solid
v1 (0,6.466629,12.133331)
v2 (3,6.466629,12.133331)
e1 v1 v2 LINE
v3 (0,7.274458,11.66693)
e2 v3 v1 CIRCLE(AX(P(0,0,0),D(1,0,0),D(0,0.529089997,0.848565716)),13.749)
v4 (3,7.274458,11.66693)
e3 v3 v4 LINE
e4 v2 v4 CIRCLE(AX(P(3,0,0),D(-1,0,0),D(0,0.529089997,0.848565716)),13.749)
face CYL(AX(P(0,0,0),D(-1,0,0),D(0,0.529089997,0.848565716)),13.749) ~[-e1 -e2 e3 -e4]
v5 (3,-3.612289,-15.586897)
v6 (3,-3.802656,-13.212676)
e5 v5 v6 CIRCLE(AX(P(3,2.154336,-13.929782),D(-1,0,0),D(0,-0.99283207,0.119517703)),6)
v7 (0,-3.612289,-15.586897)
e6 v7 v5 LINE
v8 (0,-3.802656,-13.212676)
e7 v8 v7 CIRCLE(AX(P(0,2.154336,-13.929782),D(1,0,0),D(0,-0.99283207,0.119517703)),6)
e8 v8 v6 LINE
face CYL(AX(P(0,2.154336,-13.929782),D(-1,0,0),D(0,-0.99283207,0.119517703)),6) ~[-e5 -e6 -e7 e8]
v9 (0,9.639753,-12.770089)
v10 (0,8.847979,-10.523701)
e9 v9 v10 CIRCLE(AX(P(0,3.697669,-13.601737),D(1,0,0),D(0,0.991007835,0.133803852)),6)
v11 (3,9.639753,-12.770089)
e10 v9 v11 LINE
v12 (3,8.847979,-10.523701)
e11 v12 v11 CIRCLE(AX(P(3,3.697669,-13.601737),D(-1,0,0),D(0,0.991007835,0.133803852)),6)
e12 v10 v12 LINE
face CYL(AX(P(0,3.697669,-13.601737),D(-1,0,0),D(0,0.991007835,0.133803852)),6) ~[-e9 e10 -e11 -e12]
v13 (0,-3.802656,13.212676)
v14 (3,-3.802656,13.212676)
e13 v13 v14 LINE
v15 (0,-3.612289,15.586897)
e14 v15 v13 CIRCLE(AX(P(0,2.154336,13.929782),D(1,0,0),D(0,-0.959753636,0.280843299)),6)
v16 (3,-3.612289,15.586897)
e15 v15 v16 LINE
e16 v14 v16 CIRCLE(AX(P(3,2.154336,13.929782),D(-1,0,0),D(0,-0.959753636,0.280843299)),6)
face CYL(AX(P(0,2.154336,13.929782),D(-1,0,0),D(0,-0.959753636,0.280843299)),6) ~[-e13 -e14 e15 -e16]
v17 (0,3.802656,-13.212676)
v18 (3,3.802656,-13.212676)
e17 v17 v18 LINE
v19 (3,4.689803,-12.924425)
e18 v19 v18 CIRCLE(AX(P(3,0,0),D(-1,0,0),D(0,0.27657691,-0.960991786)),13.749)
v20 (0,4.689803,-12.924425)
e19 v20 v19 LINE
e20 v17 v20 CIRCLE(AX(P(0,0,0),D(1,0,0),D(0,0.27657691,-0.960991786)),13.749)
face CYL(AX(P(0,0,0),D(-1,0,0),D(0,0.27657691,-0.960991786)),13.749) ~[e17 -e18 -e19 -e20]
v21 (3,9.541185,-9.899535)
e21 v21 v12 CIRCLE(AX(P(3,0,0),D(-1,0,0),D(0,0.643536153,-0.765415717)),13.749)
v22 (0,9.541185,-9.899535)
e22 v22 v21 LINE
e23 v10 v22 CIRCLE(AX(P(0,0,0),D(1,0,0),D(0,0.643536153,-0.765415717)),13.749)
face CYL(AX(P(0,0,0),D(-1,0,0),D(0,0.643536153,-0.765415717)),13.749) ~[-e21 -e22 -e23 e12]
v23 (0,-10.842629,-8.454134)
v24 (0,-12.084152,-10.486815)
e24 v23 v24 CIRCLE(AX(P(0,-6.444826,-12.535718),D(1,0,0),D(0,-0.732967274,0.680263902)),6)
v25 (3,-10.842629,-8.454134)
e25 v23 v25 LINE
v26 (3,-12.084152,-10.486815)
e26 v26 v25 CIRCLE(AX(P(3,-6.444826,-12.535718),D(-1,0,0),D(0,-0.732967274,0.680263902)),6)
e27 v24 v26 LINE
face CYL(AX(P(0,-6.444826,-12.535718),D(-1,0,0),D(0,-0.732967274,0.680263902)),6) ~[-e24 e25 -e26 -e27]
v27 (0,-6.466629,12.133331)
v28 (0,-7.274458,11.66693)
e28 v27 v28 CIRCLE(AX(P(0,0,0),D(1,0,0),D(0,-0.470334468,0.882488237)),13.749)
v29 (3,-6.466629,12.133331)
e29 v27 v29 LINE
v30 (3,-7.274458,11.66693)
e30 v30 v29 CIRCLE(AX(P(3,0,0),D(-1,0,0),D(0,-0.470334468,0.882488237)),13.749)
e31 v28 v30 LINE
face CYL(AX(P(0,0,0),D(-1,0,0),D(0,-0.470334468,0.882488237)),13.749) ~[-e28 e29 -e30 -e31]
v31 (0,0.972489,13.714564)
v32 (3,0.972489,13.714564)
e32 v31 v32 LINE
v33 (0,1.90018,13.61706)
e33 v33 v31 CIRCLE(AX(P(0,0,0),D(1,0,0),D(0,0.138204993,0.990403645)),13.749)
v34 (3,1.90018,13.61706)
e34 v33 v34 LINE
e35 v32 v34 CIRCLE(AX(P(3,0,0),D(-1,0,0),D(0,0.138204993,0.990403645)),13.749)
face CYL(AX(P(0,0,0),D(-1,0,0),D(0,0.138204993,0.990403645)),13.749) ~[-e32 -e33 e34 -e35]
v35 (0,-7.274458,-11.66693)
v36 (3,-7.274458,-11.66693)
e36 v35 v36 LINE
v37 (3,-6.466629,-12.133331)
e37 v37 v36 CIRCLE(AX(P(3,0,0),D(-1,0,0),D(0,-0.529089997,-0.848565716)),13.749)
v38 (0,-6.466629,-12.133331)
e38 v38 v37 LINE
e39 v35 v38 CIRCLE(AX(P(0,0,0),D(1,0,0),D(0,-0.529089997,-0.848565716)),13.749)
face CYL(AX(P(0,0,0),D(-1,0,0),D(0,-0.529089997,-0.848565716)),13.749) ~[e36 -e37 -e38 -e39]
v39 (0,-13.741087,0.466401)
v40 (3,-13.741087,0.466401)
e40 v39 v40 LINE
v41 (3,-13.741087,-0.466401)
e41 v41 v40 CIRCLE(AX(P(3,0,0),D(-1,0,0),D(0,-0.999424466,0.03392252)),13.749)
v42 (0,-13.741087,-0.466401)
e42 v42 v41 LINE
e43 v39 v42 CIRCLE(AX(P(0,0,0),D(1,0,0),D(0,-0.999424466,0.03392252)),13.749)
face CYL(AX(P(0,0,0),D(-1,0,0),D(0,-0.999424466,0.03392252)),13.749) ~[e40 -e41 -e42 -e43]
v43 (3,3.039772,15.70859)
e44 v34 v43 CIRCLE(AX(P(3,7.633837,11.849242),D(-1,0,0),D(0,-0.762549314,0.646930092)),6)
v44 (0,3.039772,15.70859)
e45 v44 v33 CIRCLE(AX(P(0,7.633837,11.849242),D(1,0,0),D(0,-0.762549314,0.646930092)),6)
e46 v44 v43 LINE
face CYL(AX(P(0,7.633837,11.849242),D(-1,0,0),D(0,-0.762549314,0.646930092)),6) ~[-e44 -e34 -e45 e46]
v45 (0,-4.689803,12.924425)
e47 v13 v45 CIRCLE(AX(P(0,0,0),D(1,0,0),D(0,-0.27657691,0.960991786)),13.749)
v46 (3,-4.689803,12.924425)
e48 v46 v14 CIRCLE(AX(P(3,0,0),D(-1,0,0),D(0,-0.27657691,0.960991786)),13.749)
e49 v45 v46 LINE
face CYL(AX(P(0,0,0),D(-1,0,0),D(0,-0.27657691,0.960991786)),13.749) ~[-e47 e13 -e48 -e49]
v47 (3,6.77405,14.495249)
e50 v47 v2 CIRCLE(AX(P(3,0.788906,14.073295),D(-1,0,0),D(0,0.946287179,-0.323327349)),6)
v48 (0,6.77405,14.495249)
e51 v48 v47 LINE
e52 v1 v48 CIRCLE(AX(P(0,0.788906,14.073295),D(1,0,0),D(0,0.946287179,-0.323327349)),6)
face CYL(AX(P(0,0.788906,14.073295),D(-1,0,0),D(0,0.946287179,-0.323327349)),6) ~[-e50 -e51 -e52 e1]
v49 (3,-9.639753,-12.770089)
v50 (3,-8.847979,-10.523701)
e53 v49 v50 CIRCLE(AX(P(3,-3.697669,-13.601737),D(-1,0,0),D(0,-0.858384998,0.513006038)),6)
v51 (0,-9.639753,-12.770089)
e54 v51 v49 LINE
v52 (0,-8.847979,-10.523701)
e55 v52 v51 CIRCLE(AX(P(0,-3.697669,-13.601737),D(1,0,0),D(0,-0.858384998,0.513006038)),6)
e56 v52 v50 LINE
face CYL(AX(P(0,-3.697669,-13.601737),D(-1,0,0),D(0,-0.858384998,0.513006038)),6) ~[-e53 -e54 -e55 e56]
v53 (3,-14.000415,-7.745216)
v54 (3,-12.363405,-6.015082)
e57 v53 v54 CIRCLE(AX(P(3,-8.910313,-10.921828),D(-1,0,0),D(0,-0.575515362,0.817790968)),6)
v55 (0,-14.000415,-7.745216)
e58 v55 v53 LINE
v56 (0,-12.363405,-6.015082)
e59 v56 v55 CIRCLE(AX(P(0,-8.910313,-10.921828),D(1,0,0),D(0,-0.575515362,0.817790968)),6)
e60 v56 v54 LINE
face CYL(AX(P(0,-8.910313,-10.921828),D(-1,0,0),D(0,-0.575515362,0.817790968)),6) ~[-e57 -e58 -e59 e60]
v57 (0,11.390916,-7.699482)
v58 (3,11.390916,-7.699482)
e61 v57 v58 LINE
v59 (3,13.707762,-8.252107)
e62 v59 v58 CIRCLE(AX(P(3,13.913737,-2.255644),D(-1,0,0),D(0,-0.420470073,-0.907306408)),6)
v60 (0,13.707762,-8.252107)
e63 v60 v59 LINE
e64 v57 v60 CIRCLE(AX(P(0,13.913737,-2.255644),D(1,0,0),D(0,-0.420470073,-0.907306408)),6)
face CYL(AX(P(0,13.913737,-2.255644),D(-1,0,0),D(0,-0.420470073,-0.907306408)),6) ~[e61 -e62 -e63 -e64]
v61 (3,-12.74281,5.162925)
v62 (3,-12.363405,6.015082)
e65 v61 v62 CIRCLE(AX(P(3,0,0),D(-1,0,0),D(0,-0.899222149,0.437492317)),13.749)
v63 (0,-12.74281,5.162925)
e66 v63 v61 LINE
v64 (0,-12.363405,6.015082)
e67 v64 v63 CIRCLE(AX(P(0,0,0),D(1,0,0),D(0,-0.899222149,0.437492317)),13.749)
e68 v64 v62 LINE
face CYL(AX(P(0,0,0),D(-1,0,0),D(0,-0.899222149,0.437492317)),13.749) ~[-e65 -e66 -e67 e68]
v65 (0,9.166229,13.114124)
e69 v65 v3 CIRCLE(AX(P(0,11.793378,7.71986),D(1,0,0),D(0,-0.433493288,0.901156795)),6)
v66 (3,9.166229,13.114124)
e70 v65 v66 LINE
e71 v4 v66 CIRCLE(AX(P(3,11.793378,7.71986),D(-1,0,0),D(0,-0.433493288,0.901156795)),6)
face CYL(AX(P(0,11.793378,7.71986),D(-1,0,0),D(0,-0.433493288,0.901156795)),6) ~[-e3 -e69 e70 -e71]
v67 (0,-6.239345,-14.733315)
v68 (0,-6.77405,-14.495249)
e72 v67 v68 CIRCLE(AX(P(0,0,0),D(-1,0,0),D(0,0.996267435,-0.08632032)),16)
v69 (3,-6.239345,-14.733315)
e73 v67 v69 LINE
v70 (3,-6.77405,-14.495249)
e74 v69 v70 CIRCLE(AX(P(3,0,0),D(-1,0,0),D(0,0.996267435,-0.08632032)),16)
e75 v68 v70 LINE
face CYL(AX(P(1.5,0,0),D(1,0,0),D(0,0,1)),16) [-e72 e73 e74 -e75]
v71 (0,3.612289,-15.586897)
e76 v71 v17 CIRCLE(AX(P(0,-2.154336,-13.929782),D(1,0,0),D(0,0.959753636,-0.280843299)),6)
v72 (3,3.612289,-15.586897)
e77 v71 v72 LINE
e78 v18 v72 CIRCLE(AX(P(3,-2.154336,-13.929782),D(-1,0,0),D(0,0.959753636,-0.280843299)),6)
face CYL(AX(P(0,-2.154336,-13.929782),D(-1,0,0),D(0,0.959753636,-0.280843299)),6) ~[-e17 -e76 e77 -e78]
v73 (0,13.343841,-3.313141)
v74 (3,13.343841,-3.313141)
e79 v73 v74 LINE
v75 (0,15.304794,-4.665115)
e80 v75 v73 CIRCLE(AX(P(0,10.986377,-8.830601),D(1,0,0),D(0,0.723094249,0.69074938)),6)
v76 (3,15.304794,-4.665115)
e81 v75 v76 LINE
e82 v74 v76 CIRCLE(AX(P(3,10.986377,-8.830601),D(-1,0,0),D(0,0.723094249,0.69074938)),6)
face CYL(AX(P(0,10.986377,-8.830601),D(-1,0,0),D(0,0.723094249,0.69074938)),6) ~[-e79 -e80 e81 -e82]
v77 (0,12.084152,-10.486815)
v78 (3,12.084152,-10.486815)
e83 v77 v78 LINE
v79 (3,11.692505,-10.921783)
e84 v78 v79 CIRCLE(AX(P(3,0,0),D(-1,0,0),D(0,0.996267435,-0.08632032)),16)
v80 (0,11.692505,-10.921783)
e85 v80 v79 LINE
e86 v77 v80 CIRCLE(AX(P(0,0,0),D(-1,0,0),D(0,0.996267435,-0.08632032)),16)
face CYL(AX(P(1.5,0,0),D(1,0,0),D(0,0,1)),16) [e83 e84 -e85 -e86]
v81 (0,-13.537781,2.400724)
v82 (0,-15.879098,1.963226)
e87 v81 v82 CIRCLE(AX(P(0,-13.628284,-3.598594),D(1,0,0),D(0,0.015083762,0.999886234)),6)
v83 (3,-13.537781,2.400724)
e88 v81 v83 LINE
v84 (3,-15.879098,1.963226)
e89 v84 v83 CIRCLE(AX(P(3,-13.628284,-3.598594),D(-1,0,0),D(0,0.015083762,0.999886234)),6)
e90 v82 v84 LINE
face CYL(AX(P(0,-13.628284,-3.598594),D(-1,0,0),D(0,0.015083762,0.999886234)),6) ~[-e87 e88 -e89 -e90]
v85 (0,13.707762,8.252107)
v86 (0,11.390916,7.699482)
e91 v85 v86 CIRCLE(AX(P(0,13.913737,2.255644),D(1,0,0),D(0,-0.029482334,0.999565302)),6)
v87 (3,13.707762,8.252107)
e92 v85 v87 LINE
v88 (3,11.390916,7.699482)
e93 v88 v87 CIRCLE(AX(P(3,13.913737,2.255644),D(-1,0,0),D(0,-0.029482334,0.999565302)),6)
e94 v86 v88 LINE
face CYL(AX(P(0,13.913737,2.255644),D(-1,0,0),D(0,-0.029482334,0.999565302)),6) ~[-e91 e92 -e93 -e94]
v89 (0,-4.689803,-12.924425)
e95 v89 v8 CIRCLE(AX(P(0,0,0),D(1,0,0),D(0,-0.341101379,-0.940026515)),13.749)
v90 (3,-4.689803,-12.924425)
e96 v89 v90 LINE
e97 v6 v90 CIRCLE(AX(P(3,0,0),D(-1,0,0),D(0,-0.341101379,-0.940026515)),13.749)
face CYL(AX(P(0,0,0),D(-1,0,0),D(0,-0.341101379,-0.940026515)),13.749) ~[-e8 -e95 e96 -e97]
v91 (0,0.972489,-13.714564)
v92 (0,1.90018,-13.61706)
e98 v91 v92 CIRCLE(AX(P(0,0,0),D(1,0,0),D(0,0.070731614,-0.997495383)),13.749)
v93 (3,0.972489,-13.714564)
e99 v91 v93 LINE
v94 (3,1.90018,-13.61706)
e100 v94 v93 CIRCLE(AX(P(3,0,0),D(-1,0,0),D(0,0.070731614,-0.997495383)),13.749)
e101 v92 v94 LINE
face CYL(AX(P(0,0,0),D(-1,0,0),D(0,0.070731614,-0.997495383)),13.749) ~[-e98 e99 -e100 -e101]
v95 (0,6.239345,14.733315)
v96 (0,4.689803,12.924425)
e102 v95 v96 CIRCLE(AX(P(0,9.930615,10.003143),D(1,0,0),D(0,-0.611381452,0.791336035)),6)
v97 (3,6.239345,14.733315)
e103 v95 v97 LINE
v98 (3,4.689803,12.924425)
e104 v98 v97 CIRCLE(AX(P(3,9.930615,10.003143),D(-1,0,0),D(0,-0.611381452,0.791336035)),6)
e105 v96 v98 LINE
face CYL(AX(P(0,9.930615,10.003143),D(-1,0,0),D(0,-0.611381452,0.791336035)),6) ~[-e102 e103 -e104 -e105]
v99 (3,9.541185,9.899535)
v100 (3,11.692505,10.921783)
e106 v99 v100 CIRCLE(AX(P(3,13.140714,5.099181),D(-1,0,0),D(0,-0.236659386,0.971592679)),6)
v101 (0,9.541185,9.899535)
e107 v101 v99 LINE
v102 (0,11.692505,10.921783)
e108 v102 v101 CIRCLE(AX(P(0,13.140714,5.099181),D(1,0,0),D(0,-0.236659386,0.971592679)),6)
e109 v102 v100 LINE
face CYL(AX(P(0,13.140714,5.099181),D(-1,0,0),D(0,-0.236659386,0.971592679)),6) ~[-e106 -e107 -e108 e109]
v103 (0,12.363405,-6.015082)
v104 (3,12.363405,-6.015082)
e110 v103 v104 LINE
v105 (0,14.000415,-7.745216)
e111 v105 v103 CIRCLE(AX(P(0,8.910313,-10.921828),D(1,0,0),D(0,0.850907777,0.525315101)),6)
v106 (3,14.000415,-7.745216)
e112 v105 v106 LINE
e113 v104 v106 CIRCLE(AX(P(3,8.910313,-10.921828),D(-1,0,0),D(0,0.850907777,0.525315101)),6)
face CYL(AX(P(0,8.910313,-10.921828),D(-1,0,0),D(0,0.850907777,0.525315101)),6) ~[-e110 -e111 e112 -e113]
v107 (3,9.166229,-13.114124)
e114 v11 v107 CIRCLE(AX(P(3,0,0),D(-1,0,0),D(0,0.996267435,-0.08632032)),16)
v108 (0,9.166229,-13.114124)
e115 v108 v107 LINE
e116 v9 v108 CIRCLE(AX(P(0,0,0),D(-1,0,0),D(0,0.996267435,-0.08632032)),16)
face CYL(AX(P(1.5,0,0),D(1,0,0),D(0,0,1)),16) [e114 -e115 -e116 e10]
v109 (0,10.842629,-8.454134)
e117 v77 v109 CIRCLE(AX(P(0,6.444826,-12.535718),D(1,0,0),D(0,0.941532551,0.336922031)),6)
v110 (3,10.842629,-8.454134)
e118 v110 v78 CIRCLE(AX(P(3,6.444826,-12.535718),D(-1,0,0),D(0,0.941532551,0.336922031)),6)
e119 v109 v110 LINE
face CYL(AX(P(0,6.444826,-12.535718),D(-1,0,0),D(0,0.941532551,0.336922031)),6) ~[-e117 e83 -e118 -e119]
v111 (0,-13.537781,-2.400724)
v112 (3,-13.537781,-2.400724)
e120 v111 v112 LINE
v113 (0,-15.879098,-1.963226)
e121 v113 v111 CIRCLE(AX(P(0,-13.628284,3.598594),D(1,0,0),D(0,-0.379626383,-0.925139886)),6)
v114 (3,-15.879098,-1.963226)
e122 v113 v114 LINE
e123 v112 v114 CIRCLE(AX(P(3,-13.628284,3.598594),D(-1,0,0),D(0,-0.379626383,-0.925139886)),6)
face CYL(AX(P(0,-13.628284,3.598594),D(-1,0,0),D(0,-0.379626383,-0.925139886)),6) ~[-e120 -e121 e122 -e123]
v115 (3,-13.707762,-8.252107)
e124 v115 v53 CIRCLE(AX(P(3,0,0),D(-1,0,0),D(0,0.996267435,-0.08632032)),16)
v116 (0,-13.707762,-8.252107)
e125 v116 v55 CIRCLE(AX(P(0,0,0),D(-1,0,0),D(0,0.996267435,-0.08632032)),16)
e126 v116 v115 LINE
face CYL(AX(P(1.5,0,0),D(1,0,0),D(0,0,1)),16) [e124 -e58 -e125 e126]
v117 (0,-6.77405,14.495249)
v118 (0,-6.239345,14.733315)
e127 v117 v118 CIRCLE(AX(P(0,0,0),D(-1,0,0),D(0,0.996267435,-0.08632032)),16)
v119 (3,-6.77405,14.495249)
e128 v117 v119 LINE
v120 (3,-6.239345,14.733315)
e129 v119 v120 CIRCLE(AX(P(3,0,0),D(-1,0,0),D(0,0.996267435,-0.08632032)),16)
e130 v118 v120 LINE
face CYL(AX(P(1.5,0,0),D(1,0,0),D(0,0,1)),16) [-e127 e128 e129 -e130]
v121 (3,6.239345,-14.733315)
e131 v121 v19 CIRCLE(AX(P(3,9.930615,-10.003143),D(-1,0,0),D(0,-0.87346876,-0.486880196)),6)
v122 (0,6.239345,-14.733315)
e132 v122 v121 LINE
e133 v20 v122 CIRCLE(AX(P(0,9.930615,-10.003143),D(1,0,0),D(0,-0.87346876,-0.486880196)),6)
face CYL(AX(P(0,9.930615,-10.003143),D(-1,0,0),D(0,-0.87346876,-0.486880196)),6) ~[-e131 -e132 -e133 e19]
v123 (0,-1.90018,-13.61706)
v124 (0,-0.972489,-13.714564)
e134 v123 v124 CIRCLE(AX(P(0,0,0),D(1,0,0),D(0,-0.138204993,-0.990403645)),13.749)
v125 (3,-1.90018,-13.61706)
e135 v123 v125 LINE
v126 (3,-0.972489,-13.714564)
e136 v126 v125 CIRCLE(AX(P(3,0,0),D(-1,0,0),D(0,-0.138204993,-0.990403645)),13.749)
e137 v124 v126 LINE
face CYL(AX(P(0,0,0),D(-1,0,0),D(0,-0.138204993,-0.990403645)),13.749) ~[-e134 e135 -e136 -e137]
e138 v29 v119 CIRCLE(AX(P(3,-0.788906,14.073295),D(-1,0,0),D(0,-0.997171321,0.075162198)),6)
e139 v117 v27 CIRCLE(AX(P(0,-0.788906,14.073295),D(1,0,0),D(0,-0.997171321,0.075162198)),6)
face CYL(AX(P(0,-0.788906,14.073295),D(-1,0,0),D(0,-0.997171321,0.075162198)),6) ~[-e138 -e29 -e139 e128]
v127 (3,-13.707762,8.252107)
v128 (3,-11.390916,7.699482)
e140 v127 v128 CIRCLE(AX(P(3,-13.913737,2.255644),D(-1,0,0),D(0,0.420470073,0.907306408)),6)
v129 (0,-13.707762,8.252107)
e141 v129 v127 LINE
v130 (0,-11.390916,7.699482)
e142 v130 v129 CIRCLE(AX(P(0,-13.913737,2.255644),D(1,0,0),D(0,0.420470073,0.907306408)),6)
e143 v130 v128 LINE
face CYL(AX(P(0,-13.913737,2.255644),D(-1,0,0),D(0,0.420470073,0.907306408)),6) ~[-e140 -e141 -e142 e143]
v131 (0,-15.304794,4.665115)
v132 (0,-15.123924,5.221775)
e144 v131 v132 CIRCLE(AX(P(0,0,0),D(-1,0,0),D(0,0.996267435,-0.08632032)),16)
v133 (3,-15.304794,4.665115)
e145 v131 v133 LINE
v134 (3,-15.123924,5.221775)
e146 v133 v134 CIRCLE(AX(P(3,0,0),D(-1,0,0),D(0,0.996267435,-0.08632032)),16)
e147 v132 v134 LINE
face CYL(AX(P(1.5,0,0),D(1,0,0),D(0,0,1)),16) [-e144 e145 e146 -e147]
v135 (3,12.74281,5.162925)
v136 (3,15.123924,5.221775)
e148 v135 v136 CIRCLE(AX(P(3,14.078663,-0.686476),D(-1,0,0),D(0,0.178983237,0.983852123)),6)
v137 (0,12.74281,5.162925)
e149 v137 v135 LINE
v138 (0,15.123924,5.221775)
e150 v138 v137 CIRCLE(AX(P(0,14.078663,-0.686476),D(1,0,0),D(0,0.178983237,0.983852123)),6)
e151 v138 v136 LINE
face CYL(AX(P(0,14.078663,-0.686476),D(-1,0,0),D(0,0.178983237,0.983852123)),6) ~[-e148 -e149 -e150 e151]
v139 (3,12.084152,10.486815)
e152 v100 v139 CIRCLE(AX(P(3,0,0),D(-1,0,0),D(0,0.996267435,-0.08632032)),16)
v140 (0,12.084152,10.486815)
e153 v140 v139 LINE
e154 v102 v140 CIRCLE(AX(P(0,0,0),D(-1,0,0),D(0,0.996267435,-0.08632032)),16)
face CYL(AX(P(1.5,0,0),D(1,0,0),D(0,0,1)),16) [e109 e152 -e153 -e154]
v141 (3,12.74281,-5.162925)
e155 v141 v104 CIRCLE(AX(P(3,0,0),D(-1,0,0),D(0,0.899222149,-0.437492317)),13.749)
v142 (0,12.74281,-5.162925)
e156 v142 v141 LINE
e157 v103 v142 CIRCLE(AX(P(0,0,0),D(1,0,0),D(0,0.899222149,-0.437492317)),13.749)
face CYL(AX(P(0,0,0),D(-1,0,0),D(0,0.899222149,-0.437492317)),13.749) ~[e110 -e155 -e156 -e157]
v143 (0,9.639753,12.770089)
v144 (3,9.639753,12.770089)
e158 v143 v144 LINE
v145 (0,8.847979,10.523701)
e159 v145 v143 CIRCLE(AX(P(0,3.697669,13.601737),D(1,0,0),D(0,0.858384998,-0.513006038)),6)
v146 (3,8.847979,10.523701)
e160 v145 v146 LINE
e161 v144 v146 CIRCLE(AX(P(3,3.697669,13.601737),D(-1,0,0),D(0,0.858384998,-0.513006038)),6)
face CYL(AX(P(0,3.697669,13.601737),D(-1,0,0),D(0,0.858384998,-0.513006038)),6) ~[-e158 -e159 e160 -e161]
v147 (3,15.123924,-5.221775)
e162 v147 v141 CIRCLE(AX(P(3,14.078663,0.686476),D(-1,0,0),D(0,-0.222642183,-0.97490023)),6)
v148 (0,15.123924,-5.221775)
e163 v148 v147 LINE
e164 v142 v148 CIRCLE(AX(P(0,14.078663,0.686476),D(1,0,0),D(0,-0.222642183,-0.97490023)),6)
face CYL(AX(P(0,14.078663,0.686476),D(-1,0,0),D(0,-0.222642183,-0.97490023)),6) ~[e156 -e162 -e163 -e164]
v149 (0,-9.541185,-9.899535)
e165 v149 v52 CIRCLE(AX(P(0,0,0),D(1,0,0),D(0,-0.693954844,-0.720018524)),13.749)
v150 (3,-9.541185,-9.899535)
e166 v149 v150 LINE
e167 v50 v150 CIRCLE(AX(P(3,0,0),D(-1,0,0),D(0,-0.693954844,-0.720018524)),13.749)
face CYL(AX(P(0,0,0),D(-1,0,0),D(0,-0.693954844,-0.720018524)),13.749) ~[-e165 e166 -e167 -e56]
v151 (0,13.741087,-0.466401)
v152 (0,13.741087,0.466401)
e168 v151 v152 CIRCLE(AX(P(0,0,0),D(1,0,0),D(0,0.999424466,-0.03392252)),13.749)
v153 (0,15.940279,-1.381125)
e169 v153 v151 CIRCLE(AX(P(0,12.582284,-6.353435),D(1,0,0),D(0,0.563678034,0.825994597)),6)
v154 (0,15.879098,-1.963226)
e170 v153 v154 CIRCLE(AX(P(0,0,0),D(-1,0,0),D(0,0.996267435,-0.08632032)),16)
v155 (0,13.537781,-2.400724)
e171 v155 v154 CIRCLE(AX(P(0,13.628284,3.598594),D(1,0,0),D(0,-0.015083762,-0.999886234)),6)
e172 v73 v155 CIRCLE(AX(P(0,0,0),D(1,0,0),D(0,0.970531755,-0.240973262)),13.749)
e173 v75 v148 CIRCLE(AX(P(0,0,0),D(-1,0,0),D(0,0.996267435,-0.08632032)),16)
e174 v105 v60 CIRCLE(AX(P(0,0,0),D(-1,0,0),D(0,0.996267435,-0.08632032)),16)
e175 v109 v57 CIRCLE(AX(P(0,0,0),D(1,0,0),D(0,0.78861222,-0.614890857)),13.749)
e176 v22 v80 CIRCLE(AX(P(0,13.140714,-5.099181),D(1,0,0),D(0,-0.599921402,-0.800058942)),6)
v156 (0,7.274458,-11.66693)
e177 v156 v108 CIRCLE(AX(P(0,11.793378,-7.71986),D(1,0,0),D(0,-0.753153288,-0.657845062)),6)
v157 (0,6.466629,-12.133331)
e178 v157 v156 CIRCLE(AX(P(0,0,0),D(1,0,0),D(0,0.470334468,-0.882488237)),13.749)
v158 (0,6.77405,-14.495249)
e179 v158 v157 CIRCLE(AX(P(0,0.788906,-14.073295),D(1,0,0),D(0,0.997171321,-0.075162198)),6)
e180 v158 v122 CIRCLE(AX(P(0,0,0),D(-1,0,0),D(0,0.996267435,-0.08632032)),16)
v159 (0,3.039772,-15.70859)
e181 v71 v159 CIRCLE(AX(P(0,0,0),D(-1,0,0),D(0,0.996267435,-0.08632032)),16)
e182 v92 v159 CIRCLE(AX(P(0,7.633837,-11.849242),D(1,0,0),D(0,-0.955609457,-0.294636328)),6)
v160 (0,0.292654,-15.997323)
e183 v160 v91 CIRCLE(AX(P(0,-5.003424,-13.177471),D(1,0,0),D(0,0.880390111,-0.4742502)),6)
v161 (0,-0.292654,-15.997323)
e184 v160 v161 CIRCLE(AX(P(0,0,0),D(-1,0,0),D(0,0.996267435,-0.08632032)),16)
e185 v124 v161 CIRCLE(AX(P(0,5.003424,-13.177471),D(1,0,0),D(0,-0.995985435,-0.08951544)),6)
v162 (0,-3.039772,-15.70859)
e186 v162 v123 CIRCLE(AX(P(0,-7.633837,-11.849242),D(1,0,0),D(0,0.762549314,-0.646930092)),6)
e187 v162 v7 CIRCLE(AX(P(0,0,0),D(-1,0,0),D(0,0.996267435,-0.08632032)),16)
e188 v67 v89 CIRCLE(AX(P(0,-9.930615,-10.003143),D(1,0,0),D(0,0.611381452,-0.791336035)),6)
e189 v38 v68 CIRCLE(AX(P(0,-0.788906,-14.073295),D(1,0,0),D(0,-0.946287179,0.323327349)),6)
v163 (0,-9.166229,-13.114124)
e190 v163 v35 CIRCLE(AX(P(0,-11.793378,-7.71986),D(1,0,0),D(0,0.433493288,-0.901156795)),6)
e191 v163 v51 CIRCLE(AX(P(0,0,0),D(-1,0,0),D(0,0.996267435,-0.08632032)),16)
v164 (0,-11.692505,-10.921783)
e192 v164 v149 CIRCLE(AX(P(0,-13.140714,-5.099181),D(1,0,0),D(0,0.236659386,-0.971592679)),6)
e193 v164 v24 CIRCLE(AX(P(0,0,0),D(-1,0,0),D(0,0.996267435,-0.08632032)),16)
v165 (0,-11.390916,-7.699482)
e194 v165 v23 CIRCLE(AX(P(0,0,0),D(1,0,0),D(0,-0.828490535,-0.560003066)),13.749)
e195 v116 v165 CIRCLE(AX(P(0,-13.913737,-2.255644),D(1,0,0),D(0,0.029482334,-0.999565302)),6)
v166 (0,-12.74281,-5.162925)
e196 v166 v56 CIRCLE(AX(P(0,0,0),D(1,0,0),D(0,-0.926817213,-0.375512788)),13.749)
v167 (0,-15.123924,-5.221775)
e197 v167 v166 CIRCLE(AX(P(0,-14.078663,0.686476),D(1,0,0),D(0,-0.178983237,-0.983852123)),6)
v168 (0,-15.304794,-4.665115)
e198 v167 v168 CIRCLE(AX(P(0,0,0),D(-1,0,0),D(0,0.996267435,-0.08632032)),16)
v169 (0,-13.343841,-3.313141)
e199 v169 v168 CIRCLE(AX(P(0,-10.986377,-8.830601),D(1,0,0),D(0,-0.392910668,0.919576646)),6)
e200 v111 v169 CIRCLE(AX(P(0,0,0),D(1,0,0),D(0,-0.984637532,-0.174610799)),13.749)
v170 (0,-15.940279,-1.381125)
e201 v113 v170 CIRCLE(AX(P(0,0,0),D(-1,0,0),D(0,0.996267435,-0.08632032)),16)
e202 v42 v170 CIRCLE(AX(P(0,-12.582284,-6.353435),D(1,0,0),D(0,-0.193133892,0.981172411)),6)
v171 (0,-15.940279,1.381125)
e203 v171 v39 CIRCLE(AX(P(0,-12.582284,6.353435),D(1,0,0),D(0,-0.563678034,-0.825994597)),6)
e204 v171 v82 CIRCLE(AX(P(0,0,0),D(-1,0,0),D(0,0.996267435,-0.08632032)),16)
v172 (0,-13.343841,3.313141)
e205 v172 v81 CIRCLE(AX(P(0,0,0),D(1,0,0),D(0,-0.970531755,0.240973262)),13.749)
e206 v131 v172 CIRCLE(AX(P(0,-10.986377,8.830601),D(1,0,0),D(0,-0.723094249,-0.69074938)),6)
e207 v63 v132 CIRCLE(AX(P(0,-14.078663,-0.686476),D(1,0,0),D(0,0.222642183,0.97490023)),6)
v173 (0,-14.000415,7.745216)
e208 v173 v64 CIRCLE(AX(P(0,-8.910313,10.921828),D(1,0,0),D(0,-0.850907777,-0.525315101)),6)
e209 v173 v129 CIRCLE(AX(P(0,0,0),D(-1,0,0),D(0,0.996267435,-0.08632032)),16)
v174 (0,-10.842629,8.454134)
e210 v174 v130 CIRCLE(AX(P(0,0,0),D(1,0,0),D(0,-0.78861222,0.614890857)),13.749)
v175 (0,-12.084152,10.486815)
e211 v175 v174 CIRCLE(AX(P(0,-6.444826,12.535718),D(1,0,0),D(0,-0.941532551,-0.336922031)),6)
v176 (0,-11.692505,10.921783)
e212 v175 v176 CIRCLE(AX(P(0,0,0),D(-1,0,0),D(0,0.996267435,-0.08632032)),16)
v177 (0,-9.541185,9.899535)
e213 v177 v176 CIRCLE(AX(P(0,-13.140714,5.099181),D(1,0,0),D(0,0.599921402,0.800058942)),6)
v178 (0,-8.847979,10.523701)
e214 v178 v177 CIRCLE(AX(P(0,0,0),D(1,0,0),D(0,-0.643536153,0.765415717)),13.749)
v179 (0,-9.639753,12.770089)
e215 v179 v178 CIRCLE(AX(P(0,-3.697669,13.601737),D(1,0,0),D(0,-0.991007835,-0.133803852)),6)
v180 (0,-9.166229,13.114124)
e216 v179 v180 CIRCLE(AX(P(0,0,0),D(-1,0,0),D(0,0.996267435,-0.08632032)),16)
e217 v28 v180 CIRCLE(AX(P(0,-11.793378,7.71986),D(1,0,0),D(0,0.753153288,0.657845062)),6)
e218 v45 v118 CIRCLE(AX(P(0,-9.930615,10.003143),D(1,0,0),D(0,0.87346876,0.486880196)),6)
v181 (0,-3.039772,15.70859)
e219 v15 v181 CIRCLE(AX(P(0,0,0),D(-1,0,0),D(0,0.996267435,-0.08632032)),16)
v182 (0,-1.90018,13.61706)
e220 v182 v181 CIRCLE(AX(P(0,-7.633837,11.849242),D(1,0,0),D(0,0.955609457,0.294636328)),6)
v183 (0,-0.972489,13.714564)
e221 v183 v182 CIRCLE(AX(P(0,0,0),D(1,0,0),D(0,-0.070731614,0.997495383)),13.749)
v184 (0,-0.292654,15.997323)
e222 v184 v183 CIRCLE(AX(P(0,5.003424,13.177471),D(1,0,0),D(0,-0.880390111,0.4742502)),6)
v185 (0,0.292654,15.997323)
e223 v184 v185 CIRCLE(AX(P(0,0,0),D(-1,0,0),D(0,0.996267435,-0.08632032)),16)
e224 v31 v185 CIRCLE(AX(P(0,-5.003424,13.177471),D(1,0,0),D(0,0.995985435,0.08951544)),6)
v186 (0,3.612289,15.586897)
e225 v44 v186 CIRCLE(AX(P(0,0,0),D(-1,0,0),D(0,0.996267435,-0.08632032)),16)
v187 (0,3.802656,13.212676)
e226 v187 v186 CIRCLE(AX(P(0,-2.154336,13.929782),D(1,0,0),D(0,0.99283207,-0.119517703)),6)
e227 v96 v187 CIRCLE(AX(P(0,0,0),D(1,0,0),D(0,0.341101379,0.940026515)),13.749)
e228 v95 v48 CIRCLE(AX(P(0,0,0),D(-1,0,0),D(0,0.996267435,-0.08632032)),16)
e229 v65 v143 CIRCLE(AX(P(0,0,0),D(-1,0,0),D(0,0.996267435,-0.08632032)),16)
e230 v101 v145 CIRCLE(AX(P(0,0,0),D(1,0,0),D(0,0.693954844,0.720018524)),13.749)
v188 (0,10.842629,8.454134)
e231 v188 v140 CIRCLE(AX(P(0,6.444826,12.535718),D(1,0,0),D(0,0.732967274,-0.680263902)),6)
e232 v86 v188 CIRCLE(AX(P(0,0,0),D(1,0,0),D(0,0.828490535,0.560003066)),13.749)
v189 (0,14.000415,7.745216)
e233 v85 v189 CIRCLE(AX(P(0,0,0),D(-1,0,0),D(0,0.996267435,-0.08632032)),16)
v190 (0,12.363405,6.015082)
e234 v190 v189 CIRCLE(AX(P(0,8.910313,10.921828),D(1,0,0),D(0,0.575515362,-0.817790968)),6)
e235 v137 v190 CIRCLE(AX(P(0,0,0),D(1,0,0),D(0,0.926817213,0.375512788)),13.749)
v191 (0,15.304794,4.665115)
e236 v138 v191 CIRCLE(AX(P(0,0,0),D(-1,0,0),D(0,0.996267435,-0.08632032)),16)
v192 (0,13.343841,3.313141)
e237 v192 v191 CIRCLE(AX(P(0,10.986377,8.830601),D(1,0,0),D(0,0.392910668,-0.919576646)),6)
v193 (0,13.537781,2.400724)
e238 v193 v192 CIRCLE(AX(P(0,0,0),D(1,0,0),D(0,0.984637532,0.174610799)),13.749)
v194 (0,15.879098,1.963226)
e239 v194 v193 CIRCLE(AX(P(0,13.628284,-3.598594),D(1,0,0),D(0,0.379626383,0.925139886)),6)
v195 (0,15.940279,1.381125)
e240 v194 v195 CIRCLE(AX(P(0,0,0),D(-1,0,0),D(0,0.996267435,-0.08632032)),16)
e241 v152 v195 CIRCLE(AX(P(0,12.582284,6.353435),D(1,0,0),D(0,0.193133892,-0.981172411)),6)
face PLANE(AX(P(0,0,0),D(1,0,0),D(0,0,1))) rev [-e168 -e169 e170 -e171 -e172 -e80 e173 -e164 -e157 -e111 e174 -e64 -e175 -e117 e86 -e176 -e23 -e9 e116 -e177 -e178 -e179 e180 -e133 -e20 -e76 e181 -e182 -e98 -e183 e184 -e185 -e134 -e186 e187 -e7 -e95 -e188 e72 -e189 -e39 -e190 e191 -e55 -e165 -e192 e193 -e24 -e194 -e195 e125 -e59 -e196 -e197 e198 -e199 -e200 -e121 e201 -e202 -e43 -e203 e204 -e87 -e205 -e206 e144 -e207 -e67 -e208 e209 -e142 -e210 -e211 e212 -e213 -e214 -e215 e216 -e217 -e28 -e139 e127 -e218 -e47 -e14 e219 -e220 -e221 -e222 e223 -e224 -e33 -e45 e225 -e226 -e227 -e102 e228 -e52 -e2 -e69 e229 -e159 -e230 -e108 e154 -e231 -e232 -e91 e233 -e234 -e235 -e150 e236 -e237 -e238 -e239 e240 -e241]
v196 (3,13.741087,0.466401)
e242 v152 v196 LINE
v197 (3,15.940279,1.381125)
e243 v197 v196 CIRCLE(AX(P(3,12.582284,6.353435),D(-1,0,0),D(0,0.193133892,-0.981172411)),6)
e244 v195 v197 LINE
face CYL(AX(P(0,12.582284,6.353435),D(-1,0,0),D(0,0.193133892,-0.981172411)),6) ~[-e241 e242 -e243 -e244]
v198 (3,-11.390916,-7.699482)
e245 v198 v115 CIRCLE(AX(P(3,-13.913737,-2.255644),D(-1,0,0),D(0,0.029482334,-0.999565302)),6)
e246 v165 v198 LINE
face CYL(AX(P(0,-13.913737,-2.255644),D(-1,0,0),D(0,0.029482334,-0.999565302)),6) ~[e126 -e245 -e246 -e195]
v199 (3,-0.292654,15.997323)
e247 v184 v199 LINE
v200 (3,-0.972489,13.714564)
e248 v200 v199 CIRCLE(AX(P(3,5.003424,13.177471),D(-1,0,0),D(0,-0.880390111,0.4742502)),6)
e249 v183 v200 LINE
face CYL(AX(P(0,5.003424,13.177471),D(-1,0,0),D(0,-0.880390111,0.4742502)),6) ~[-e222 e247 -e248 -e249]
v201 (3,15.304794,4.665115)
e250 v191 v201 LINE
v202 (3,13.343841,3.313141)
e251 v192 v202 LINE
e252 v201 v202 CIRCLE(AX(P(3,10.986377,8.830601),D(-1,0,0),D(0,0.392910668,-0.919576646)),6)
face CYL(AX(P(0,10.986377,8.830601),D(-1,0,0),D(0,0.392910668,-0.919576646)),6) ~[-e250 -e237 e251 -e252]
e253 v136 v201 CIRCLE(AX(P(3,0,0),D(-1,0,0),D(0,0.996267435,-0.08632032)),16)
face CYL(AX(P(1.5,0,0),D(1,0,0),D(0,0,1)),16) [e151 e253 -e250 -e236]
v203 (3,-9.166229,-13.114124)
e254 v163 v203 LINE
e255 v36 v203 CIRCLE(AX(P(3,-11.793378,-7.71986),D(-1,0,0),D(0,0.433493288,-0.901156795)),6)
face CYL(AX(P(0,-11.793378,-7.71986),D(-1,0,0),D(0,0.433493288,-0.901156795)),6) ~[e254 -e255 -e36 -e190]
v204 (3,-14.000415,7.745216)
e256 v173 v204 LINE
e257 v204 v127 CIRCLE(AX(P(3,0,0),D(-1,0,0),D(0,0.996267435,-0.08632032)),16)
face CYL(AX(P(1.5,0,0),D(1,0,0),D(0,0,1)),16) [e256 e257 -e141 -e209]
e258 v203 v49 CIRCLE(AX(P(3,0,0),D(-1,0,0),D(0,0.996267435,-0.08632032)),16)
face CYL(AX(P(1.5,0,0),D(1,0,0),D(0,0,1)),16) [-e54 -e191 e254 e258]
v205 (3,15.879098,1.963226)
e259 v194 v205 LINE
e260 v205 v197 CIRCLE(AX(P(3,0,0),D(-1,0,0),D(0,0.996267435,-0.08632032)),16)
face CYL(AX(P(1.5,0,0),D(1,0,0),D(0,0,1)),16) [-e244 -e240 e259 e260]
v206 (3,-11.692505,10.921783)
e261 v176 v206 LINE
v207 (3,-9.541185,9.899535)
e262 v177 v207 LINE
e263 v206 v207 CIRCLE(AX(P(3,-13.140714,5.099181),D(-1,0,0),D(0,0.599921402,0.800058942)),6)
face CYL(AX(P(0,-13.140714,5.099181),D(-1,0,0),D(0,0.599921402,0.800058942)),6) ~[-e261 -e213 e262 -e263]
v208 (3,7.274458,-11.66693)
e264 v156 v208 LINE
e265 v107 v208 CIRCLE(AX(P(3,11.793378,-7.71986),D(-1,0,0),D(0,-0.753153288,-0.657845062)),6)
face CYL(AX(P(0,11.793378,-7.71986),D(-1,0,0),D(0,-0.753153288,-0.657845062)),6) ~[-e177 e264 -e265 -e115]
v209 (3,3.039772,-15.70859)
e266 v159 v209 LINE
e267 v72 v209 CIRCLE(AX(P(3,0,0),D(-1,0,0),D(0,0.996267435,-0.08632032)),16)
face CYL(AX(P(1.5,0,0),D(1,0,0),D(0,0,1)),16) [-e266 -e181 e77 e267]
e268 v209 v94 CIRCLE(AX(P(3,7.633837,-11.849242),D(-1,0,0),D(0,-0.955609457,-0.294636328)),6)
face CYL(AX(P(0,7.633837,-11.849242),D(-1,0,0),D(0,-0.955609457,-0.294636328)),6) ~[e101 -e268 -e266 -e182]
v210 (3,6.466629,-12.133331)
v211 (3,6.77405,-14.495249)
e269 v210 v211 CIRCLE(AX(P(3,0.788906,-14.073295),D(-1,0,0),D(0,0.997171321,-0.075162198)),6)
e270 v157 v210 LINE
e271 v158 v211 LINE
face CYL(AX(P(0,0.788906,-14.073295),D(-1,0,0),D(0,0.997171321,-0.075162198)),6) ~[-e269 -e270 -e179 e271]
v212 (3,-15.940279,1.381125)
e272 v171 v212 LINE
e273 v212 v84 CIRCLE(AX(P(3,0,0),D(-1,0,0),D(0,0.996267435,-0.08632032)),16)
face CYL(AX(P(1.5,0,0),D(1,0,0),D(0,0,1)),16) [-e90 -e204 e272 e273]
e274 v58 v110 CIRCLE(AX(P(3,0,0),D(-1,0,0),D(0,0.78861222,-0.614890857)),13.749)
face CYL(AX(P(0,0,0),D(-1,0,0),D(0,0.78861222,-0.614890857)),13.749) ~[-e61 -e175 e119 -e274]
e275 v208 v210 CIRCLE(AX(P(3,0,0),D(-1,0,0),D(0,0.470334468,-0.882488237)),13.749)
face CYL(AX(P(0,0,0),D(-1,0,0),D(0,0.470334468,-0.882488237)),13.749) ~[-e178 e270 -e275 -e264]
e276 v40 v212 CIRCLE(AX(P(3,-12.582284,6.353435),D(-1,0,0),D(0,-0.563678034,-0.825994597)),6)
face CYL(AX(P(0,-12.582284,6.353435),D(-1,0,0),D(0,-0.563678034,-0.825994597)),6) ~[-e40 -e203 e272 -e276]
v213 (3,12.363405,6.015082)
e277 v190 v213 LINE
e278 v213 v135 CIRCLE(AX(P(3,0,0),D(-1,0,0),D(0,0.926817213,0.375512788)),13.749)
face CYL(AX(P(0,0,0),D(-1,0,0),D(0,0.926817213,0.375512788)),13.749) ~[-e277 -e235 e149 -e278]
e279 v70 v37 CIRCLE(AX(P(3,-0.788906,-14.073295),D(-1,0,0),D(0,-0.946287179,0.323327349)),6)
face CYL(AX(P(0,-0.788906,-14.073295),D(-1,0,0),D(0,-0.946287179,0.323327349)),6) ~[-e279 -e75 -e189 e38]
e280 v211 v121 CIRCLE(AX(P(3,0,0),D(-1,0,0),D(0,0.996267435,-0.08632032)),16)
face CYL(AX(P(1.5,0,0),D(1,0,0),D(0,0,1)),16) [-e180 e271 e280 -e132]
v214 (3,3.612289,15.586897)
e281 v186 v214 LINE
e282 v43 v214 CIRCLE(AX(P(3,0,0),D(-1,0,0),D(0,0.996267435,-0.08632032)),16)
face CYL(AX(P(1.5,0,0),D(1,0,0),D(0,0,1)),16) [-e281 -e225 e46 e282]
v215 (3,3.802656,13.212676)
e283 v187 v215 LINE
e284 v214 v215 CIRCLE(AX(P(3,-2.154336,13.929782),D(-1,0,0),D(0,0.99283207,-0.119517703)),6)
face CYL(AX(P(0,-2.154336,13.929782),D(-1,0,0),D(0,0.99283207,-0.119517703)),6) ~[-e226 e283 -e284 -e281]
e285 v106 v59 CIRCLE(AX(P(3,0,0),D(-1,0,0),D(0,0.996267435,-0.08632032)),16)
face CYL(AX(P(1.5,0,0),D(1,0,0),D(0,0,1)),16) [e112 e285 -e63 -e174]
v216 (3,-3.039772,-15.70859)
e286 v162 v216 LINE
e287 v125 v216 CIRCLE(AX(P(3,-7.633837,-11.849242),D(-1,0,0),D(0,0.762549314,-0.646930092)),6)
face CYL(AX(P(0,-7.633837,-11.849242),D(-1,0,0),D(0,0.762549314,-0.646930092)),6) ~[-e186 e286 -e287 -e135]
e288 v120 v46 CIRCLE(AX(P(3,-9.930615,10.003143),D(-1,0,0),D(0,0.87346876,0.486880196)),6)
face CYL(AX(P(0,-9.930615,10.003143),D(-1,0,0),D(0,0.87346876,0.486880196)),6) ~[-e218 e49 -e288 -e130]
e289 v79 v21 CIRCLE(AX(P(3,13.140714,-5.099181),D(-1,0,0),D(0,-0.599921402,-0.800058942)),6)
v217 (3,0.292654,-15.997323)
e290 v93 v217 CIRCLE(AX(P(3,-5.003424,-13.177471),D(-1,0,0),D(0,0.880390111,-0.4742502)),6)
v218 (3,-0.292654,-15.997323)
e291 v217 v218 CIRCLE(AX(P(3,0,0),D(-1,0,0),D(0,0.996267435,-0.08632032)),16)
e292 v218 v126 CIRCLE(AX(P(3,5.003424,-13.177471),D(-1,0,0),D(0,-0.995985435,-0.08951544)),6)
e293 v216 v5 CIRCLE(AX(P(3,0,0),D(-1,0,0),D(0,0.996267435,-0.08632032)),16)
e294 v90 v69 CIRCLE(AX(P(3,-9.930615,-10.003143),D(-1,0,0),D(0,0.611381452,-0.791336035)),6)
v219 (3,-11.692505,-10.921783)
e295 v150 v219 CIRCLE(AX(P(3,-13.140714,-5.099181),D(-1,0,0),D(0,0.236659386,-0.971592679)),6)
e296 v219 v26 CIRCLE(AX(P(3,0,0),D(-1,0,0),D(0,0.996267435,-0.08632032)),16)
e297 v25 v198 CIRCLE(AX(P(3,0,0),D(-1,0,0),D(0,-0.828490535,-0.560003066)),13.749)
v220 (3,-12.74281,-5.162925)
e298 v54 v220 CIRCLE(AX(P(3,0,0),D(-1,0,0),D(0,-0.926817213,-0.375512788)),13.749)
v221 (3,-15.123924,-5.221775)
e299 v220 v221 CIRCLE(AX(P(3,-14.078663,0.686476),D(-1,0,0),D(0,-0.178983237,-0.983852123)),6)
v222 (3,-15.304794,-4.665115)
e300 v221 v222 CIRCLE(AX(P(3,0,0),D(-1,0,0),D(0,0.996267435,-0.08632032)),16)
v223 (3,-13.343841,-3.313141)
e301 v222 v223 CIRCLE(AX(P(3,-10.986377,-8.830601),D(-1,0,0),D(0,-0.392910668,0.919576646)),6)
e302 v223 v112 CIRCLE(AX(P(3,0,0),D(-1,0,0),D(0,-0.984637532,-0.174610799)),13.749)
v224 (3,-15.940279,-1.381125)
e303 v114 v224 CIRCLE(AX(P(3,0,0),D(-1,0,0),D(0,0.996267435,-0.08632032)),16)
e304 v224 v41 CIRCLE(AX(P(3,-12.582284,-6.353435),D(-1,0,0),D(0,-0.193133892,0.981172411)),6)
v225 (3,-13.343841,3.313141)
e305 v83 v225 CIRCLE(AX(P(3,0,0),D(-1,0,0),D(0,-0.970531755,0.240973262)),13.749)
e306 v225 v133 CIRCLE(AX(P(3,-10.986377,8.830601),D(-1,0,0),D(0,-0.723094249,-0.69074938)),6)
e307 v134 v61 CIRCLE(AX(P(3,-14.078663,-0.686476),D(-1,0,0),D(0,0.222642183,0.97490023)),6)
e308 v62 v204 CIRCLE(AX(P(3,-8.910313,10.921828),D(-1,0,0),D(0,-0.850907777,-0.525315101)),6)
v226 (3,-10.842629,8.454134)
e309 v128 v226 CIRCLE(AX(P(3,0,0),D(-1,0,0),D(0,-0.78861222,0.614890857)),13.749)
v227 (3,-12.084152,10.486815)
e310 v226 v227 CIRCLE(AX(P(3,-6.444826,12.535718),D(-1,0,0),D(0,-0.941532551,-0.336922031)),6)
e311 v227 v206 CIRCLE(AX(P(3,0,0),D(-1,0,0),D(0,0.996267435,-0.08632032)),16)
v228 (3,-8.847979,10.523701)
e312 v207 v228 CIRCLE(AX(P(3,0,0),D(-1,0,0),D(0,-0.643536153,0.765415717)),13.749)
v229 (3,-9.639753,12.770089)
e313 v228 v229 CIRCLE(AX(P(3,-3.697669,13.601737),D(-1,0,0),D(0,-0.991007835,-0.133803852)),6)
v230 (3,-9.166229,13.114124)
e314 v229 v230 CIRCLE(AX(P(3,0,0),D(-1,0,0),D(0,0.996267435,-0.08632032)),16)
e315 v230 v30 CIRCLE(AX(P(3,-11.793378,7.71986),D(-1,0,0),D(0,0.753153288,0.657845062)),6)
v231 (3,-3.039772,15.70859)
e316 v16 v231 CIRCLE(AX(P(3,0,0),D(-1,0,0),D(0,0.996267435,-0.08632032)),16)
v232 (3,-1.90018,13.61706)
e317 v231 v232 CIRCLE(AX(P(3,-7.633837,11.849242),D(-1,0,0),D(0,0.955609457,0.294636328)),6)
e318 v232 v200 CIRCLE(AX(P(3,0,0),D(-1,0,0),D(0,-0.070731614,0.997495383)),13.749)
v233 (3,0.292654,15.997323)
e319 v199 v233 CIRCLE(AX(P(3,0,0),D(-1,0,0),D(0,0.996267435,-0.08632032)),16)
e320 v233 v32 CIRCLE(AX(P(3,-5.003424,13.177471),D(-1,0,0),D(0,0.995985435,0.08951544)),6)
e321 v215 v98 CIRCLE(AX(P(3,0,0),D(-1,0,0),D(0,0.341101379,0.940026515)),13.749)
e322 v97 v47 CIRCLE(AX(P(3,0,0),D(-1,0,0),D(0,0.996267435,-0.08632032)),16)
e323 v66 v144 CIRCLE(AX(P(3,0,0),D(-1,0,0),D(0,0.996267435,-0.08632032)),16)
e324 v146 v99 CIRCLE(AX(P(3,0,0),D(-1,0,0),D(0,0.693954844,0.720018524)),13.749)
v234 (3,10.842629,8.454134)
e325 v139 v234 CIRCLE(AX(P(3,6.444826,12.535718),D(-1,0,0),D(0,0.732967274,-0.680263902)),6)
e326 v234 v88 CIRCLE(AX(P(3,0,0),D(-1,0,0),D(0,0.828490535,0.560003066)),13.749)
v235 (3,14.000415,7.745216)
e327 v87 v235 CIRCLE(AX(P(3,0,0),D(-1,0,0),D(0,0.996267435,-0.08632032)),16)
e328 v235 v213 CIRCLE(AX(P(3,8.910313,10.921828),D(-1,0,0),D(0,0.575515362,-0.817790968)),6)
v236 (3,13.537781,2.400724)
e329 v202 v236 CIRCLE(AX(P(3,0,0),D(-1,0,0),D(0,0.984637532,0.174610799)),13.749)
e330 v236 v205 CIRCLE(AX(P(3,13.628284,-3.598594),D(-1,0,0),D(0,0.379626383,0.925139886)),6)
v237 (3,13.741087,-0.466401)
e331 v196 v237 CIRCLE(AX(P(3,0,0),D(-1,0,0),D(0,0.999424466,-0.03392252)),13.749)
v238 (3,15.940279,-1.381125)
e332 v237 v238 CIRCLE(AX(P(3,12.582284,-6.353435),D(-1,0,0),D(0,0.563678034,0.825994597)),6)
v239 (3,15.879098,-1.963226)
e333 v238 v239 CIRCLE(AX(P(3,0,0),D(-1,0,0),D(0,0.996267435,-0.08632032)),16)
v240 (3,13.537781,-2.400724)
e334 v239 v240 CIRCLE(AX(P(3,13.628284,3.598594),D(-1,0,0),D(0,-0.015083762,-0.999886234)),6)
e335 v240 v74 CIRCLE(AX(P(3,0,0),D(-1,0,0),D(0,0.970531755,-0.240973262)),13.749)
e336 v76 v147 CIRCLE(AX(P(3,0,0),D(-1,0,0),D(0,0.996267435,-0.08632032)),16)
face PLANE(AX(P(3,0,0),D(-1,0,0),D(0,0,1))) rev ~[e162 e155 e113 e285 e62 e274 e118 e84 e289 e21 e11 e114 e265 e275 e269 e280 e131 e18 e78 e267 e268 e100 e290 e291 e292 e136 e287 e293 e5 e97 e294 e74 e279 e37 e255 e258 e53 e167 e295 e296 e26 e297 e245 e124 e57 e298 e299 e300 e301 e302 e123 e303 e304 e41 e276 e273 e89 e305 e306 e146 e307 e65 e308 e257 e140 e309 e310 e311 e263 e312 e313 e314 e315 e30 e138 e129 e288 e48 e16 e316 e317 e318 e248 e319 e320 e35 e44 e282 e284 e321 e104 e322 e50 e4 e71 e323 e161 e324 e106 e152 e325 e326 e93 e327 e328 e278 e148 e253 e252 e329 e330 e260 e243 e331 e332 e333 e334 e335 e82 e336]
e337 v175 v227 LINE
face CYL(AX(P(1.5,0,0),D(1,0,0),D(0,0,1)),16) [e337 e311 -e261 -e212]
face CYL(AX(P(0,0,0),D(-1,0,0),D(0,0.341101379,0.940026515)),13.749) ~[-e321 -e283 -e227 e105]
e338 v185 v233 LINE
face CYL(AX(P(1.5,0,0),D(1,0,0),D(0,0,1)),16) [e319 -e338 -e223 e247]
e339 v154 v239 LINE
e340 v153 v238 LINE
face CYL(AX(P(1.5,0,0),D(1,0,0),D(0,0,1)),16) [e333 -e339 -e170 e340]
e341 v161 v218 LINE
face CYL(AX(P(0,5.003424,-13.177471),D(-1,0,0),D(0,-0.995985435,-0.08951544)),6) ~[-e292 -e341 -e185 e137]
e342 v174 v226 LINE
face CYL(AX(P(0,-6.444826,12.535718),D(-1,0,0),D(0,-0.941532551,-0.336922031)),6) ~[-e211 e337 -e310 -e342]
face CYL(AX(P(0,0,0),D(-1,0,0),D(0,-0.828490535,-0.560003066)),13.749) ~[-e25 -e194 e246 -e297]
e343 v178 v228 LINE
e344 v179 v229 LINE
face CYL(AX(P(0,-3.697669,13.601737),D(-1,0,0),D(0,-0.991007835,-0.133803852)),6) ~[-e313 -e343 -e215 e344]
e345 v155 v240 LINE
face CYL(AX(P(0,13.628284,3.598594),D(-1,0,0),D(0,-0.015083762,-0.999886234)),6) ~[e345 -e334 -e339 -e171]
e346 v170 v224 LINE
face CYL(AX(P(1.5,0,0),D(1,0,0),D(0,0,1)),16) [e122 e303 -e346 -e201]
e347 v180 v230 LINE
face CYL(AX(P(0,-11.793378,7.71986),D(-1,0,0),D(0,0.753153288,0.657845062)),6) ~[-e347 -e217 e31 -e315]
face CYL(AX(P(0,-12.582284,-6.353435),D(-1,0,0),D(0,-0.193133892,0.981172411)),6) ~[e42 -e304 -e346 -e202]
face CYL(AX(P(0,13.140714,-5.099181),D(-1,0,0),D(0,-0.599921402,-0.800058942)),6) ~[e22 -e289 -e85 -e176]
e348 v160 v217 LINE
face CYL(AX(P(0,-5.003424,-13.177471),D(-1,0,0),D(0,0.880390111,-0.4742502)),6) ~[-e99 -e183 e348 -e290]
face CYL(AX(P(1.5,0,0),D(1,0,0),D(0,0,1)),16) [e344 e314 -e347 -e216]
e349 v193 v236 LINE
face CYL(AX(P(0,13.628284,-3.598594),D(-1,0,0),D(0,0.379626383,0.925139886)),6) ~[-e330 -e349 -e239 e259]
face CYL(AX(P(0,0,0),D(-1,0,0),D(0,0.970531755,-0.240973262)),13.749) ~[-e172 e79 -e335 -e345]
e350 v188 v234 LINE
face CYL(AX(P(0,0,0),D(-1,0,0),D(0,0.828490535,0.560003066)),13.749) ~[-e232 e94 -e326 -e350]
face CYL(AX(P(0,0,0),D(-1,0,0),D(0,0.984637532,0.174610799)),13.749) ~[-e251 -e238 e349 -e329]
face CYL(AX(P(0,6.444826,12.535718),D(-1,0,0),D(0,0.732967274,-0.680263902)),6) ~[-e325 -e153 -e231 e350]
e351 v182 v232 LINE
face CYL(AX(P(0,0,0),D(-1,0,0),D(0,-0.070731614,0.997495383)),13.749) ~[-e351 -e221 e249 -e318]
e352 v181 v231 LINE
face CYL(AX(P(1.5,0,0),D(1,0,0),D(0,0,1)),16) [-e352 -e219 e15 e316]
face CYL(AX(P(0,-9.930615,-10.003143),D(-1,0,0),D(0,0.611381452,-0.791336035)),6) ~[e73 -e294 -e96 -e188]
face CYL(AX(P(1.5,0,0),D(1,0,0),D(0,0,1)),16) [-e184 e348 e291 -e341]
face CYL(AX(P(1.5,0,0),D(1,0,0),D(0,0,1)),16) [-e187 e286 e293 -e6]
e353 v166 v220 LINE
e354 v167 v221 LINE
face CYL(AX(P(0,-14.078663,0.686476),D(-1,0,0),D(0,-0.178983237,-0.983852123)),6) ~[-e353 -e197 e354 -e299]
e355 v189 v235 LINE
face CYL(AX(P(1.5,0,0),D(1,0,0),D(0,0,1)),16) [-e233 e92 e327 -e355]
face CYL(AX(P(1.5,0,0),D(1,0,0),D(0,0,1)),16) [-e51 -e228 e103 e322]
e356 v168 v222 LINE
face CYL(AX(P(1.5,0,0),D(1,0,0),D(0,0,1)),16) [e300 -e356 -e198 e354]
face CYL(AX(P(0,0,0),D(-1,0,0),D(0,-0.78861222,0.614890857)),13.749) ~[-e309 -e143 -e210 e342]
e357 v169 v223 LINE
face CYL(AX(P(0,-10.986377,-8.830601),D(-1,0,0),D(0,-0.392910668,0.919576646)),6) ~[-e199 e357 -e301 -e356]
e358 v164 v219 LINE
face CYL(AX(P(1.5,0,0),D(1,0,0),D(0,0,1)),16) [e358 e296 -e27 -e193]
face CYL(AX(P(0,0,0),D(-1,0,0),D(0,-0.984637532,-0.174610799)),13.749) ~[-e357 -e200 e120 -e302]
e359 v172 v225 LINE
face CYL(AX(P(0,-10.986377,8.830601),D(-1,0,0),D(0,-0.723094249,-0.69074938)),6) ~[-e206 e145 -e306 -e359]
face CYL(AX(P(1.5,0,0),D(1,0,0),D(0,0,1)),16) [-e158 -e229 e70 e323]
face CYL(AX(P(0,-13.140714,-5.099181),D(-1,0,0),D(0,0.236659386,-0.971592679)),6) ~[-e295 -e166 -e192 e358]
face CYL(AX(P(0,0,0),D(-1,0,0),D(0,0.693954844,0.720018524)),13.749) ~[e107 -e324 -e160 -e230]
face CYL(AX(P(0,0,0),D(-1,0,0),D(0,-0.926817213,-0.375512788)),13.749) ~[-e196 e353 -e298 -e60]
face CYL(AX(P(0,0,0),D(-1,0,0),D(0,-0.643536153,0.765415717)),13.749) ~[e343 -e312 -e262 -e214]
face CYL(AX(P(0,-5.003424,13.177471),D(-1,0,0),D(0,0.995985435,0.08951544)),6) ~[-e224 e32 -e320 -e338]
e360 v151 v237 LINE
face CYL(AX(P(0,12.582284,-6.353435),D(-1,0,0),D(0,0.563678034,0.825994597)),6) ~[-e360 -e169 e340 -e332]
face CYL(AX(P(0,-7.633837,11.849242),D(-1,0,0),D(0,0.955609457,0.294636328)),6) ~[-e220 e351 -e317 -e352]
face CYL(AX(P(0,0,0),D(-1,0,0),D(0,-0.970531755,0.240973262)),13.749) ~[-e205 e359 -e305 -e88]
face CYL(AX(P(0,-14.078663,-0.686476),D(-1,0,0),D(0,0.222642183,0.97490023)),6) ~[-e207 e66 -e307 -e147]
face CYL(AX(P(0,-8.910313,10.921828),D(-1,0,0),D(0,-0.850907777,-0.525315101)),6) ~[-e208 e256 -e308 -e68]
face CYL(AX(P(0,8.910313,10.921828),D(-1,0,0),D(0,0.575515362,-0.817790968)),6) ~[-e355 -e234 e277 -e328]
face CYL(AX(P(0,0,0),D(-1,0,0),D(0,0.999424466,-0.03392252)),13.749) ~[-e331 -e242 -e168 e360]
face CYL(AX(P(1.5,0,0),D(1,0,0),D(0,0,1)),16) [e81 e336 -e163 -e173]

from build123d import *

# Parameters (mm, degrees)
BASPROSKE_W     = 3
BASPROSKE_H     = 16
TOOTHCUT_DEPTH  = 23.825424421
TEETHCUTS_COUNT = 30
TEETHCUTS_ANGLE = 348
BORSKE_R        = 4
BORE_DEPTH      = 50.0000508
EXTRUDE_START   = -3
SKETCH_1_R      = 4
EXTRUDE_1_DEPTH = 3


with BuildPart() as part:
    # BasProSke → Base-Revolve (revolve)
    with BuildSketch(Plane(origin=(0, 0, 0), x_dir=(1, 0, 0), z_dir=(0, 1, 0)), mode=Mode.PRIVATE) as base_revolve_sk:
        with Locations((1.5, 8)):
            Rectangle(BASPROSKE_W, BASPROSKE_H)
    revolve(base_revolve_sk.sketch.rotate(Axis((-10, 0, 0), (1, 0, 0)), 180), axis=Axis((-10, 0, 0), (1, 0, 0)))

    # TooCutSke → ToothCut (cut, through all)
    with BuildSketch(Plane(origin=(0, 0, 0), x_dir=(0, 0, -1), z_dir=(1, 0, 0))):
        with BuildLine():
            ThreePointArc((0.466400716, 13.741086979), (0, 13.749), (-0.466400716, 13.741086979))
            ThreePointArc((-0.466400716, 13.741086979), (-0.819142092, 14.899954875), (-1.3974676, 15.964351834))
            ThreePointArc((-1.3974676, 15.964351834), (0, 16.0254), (1.3974676, 15.964351834))
            ThreePointArc((1.3974676, 15.964351834), (0.819142092, 14.899954875), (0.466400716, 13.741086979))
        make_face()
    toothcut = extrude(amount=TOOTHCUT_DEPTH, mode=Mode.SUBTRACT)

    # TeethCuts: ToothCut ×30 about axis
    teethcuts_axis = Axis((-10, 0, 0), (1, 0, 0))
    for i in range(1, TEETHCUTS_COUNT):
        add(toothcut.rotate(teethcuts_axis, i * TEETHCUTS_ANGLE / (TEETHCUTS_COUNT - 1)), mode=Mode.SUBTRACT)

    # BorSke → Bore (cut, symmetric)
    with BuildSketch(Plane(origin=(0, 0, 0), x_dir=(0, 0, -1), z_dir=(1, 0, 0))):
        with Locations(Location((0, 0, 0), (0, 0, 180))):
            Circle(BORSKE_R)
    extrude(amount=BORE_DEPTH, both=True, mode=Mode.SUBTRACT)

    # ｽｹｯﾁ1 → ﾎﾞｽ - 押し出し1 (add)
    with BuildSketch(Plane.ZY.offset(EXTRUDE_START)):
        Circle(SKETCH_1_R)
    extrude(amount=EXTRUDE_1_DEPTH)


solid = part.part
